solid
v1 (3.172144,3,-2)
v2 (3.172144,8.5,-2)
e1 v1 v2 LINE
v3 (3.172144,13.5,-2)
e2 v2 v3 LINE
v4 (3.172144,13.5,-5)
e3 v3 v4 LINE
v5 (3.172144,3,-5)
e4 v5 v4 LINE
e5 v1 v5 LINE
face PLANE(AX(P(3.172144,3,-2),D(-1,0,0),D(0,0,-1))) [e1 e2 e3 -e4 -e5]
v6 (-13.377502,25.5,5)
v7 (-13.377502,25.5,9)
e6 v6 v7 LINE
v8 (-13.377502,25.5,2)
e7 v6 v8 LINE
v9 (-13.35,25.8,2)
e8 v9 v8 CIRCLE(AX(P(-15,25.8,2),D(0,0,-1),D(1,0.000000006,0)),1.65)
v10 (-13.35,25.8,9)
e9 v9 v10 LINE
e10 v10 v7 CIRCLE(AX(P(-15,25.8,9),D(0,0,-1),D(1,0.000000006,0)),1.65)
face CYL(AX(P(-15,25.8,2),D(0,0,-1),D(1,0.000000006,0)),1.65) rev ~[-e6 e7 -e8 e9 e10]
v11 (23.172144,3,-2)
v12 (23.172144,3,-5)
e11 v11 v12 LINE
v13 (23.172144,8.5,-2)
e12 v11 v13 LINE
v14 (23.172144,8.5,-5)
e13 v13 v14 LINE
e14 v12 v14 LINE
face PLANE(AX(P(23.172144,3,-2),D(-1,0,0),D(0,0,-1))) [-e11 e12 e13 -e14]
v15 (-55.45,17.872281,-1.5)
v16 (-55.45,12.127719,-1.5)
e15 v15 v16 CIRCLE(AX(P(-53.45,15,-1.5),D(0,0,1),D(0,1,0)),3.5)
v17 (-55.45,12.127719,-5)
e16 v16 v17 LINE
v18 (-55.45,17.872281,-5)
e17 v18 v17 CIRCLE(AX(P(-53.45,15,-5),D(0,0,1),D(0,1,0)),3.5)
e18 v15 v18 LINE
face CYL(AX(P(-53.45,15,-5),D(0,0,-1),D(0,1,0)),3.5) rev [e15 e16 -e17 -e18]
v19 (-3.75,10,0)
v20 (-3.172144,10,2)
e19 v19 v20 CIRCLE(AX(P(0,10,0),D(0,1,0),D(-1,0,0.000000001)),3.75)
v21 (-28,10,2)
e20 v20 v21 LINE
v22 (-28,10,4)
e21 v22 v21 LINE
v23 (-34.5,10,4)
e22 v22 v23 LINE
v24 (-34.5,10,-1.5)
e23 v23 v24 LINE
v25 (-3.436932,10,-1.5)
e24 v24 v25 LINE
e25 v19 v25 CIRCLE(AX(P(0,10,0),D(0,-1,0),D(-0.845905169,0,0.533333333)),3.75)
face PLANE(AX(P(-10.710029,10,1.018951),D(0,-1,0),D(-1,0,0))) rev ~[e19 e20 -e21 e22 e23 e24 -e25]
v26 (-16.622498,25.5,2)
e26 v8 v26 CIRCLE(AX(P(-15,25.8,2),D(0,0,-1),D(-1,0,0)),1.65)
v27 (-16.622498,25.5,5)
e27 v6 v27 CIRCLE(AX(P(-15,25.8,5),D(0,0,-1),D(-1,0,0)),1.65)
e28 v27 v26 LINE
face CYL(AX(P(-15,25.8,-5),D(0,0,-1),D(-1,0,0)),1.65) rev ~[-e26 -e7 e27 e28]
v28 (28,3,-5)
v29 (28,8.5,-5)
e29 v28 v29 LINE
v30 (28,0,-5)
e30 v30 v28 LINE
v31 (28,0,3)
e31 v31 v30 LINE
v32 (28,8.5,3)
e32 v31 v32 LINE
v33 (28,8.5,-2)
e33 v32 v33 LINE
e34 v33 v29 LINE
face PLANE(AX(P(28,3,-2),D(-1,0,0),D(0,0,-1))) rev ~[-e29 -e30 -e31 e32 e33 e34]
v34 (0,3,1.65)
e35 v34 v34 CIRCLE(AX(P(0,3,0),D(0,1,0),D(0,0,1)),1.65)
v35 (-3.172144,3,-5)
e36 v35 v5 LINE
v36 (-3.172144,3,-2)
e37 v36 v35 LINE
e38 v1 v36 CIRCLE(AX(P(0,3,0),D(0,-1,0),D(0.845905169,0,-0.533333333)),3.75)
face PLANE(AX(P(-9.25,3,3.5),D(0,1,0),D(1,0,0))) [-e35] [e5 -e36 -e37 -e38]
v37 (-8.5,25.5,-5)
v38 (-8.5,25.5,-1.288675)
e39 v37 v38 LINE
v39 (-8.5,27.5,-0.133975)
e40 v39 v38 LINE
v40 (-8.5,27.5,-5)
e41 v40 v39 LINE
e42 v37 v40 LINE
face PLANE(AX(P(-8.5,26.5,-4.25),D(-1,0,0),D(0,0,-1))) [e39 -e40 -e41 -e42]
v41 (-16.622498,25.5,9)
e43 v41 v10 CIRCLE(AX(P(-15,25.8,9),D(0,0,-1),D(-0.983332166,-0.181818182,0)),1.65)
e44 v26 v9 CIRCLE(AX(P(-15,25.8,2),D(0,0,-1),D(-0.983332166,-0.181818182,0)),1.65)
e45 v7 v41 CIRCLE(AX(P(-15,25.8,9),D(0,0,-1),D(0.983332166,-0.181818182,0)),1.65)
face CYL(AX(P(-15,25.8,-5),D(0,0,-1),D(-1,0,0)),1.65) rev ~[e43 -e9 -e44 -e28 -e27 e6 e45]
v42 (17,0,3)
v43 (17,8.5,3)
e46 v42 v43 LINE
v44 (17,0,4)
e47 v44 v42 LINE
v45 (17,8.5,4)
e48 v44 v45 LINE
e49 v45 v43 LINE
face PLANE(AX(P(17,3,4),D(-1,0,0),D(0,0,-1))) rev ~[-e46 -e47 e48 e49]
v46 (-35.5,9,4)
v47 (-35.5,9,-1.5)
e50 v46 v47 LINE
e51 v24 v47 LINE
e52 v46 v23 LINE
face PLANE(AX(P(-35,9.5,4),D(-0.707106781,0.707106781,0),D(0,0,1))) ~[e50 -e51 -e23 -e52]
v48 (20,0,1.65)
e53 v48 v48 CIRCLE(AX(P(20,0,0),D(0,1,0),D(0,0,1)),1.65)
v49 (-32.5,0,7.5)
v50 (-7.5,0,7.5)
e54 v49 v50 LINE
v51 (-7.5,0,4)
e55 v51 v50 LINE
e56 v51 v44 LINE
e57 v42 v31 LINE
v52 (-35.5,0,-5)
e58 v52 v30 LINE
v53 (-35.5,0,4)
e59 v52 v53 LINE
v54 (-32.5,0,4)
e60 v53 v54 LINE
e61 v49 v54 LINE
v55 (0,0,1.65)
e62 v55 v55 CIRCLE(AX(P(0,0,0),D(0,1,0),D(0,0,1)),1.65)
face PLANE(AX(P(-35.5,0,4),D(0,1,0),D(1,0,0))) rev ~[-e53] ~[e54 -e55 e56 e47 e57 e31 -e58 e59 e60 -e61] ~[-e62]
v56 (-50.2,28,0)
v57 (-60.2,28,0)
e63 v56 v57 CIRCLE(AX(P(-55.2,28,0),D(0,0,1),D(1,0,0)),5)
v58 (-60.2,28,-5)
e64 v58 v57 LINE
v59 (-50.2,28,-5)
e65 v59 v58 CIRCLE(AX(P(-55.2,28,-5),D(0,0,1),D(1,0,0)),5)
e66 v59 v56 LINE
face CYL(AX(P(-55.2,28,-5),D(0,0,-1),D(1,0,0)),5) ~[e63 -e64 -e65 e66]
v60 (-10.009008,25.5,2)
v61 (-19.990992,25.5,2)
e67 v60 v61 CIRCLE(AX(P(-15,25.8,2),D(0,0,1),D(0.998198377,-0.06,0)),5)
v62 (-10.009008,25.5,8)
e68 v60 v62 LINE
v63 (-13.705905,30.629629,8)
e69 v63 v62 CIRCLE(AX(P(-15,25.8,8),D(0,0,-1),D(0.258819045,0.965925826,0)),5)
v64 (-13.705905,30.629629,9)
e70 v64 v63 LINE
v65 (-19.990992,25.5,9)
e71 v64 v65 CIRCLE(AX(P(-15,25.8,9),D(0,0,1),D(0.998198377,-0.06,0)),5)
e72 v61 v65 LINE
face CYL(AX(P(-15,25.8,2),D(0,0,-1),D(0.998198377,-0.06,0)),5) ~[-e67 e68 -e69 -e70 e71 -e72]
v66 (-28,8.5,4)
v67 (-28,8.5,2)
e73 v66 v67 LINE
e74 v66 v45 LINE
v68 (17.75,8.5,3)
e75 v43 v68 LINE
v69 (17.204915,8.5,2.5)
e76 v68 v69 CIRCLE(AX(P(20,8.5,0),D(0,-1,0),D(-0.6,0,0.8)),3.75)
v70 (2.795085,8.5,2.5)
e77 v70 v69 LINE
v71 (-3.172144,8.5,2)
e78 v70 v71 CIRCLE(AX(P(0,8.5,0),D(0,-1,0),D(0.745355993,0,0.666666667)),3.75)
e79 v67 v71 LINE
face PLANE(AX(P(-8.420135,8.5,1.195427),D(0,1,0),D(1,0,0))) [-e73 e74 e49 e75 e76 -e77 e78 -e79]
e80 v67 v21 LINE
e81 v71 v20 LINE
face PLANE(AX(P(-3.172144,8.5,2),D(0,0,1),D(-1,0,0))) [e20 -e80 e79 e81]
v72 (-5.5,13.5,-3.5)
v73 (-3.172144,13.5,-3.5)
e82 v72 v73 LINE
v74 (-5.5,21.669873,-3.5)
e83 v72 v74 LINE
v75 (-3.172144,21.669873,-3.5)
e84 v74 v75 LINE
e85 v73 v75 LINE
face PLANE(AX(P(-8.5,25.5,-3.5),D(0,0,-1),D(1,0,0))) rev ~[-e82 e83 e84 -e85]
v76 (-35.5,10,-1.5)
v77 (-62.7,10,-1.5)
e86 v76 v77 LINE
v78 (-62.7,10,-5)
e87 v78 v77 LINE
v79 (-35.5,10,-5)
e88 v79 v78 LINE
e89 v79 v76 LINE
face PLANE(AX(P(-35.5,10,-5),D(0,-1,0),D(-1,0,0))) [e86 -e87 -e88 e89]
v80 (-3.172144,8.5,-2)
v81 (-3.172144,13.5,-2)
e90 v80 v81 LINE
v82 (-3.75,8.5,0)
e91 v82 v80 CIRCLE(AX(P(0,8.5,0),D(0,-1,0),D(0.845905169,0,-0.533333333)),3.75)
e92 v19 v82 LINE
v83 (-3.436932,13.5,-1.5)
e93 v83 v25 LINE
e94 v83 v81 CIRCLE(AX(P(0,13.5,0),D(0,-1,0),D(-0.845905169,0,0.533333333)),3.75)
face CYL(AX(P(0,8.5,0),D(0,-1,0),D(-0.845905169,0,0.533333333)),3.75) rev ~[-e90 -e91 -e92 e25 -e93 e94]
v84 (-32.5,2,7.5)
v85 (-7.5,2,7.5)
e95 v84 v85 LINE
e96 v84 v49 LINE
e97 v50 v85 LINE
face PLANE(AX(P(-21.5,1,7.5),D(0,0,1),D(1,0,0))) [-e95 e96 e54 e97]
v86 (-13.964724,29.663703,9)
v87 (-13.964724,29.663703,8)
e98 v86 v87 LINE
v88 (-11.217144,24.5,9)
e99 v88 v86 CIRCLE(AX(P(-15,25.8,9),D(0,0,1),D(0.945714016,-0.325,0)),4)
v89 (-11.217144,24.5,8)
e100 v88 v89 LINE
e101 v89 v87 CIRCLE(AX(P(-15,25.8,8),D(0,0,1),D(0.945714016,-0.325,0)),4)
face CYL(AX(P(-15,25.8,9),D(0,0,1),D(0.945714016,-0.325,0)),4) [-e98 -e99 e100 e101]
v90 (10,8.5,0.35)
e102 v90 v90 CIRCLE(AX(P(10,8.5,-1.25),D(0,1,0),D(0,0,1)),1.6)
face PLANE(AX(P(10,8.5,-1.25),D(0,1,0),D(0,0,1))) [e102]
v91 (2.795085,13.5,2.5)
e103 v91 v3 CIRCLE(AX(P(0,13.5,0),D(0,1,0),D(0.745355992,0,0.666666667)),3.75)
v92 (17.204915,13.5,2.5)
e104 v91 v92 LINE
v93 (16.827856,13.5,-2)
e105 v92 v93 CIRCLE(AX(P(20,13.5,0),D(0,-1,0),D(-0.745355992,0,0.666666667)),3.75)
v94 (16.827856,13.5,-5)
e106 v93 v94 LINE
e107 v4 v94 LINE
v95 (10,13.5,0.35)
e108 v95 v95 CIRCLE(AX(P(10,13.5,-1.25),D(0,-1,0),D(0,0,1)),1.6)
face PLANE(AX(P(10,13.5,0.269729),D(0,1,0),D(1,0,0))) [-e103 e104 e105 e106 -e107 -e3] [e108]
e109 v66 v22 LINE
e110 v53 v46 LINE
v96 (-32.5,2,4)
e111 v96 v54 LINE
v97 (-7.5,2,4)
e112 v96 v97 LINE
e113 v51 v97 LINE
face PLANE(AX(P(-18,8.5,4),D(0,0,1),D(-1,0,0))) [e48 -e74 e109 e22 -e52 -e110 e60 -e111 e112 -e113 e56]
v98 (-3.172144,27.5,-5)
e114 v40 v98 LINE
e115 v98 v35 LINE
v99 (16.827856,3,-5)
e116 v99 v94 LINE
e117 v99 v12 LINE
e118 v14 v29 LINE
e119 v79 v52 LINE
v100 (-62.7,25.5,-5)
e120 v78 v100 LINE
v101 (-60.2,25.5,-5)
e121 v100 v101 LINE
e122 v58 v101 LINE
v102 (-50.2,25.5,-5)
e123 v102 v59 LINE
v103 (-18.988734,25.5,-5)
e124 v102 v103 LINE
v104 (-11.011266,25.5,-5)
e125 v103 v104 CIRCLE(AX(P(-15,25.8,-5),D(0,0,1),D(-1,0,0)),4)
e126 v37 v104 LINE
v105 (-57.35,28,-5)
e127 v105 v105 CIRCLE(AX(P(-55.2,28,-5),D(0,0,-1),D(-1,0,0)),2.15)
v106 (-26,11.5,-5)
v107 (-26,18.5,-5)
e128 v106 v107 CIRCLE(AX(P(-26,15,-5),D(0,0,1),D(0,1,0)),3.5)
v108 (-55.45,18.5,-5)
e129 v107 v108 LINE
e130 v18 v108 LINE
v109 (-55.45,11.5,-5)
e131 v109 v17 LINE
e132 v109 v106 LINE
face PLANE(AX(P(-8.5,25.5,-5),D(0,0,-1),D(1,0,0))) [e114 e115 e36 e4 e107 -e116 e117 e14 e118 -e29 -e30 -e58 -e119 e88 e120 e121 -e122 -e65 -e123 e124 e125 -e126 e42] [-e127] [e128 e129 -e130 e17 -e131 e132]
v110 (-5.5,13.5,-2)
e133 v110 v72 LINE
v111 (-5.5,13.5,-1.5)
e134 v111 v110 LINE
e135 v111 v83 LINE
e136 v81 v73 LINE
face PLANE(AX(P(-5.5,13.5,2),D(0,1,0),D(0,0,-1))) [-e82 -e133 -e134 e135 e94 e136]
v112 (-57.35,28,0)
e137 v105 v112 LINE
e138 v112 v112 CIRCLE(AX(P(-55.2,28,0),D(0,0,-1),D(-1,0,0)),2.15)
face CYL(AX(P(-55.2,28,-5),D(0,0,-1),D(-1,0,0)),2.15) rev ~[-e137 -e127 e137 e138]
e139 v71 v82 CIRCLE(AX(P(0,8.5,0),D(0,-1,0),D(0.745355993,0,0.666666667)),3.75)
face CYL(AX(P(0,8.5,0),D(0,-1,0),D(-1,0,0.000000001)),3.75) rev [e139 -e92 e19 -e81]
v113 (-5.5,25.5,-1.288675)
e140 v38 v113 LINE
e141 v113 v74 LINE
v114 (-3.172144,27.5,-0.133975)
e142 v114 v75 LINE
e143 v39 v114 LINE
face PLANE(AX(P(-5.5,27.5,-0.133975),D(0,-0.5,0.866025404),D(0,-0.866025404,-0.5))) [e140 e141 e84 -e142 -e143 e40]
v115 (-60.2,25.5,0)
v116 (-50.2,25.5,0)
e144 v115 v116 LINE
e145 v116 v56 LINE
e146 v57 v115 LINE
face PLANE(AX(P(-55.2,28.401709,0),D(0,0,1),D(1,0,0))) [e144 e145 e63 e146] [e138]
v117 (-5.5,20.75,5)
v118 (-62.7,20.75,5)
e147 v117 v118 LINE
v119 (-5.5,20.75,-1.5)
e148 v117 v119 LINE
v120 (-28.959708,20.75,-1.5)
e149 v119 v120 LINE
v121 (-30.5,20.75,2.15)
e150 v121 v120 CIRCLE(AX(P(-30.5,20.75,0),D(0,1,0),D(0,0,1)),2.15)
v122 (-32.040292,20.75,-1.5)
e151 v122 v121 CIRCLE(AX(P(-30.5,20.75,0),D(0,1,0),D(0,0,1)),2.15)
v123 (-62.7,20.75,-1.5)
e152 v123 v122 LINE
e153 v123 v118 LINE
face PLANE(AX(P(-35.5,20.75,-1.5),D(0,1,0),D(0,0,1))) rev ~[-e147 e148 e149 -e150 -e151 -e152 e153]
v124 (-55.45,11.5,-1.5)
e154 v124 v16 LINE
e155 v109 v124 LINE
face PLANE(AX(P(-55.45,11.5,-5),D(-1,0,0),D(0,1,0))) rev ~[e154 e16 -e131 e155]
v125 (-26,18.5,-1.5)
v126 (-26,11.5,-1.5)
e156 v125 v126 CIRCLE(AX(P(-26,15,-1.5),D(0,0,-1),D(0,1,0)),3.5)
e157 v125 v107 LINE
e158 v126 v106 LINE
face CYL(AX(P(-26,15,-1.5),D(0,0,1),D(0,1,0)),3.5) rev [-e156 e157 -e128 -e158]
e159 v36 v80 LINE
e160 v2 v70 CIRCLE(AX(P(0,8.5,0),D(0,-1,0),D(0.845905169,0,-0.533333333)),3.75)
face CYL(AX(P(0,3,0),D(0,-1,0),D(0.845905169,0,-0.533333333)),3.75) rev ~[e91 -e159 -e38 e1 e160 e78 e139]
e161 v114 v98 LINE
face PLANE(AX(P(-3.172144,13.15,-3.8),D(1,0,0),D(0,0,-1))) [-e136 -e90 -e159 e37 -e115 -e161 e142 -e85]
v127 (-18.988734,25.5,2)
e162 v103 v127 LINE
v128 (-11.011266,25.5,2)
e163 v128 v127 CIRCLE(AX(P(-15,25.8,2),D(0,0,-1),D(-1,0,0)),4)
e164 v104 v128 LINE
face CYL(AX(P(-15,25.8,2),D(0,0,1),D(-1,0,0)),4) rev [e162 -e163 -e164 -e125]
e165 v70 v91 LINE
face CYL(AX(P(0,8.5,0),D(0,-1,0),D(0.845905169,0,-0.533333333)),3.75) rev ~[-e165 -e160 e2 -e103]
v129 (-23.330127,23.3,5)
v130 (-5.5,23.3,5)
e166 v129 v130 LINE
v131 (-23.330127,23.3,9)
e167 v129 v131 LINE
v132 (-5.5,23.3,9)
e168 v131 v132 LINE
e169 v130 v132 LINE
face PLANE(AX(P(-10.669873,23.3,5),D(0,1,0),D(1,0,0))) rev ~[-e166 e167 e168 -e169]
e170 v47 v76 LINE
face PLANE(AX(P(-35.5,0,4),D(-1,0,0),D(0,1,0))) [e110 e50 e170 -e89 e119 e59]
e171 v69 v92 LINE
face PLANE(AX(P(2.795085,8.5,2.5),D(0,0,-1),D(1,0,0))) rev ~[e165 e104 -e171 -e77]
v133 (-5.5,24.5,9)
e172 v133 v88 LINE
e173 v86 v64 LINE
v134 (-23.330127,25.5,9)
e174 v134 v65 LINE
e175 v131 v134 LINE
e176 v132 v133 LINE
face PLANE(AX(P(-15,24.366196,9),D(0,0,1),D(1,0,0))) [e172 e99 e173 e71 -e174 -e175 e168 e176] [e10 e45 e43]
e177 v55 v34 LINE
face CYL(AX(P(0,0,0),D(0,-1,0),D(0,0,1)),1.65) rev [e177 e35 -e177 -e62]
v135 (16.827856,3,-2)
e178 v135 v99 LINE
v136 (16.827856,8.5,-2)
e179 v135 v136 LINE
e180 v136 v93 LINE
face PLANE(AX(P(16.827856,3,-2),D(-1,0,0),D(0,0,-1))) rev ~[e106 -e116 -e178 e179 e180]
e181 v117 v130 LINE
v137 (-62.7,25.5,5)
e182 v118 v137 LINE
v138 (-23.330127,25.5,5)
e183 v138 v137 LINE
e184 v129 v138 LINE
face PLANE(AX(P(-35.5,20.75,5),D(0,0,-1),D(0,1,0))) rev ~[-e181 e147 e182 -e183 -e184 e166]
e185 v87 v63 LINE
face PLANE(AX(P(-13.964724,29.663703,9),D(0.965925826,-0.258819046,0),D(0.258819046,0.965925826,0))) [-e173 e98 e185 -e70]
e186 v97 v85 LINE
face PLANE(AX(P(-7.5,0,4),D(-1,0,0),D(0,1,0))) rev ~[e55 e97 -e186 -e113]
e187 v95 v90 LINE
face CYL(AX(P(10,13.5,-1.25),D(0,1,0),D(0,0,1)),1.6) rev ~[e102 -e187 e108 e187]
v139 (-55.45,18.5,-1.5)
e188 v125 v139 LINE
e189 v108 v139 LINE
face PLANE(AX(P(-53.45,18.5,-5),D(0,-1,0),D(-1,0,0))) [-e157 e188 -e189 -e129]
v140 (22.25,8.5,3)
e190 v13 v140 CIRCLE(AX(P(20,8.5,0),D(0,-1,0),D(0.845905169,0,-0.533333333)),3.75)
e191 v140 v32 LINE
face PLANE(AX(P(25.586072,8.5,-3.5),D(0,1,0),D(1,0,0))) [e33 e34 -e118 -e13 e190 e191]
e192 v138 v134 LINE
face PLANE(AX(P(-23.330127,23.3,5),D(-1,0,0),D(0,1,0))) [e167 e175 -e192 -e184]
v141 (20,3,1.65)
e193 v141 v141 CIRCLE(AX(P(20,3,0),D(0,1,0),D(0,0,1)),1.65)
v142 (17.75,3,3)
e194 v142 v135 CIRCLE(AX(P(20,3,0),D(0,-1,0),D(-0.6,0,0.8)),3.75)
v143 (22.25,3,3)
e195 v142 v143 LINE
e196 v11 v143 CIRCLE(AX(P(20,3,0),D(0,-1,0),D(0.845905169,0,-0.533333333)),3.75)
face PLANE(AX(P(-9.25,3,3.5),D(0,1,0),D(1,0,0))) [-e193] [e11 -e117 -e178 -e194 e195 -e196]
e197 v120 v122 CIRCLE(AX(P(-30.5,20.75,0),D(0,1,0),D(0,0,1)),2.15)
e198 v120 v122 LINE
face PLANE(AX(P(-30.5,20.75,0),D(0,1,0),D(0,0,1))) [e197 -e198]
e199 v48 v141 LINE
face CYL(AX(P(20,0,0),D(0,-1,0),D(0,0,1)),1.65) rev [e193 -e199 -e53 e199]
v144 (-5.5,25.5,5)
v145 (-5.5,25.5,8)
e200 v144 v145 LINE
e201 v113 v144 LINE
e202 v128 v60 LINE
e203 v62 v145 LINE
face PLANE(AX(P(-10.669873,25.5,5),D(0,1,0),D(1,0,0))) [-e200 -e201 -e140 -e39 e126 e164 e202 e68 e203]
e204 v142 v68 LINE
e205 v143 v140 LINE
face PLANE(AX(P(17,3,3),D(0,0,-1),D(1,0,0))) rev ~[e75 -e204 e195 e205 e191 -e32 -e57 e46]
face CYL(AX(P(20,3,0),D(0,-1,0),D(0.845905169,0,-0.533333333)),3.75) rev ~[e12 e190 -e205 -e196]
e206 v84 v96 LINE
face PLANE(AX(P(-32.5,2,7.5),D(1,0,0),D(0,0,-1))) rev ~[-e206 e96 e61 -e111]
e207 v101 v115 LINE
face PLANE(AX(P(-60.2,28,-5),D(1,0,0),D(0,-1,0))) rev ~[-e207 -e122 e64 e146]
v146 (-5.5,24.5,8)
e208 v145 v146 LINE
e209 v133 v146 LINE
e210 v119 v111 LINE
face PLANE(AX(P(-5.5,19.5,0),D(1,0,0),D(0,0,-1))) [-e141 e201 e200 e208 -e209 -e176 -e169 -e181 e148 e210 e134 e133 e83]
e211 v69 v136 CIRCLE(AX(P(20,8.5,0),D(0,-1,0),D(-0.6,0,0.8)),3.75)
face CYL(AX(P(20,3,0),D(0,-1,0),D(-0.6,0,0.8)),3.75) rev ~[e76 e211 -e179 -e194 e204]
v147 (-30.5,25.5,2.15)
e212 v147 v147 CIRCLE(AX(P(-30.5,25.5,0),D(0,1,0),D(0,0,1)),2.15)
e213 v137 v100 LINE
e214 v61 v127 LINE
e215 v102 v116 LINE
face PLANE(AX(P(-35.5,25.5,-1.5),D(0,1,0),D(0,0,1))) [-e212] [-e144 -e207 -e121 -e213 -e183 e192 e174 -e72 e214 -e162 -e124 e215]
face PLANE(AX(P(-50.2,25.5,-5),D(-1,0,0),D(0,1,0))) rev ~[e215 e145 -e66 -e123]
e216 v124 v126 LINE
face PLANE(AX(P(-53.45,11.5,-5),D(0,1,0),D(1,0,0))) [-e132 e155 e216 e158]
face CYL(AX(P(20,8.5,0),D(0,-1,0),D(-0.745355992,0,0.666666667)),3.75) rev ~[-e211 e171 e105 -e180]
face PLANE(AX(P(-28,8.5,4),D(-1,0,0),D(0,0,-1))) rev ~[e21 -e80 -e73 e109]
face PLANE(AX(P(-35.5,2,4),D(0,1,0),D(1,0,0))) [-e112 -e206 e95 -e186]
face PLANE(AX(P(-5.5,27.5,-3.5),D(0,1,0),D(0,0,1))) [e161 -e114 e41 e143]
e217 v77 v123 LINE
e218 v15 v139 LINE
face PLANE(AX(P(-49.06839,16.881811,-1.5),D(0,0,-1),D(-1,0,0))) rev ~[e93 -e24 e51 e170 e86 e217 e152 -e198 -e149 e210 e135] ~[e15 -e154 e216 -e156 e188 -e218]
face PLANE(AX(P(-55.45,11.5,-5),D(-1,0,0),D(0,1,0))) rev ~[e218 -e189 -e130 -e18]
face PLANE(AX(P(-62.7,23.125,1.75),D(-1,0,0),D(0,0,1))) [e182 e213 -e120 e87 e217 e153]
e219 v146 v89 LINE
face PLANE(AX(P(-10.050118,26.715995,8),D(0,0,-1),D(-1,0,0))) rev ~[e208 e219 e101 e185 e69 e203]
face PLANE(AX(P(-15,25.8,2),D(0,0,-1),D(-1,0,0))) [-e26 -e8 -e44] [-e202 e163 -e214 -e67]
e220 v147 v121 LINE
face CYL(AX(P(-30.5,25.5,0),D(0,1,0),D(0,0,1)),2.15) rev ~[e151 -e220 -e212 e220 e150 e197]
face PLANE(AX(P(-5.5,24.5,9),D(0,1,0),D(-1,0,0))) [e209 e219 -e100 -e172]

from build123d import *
from build123d.topology import SkipClean

# Parameters (mm, degrees)
SKETCH_1_W                   = 63.5
SKETCH_1_H                   = 8
SKETCH_1_R                   = 1.65
EXTRUDE_1_DEPTH              = 3
SKETCH_4_W                   = 52.5
SKETCH_4_H                   = 1
EXTRUDE_3_DEPTH              = 3
EXTRUDE_4_DEPTH              = 5.5
EXTRUDE_5_DEPTH              = 1.5
EXTRUDE_5_DIRECTION_2_REACH  = 38.844
CHAMFER_1_SIZE               = 1
SKETCH_8_W                   = 22
SKETCH_8_H                   = 3.5
EXTRUDE_6_DEPTH              = 12.5
EXTRUDE_7_DEPTH              = 5
SKETCH_11_W                  = 10
SKETCH_11_H                  = 2
CUT_EXTRUDE_1_DEPTH          = 5
CUT_EXTRUDE_3_DEPTH          = 43.388087949
EXTRUDE_8_DEPTH              = 3.5
SKETCH_16_W                  = 3.5
SKETCH_16_H                  = 4
EXTRUDE_9_DEPTH              = 8
SKETCH_2_W                   = 10
SKETCH_2_H                   = 2
EXTRUDE_2_DEPTH              = 3
SKETCH_17_W                  = 30
SKETCH_17_H                  = 4.75
EXTRUDE_10_DEPTH             = 10
EXTRUDE_11_DEPTH             = 17
EXTRUDE_12_REACH             = 44.326
SKETCH_19_W                  = 2.327855615
SKETCH_19_H                  = 3
SKETCH_19_W_2                = 13.65571123
SKETCH_19_W_3                = 4.827855615
SKETCH_21_R                  = 1.65
CUT_EXTRUDE_4_DEPTH          = 45.838599443
EXTRUDE_13_DEPTH             = 4
EXTRUDE_13_DEPTH_BACK        = 3
SKETCH_23_R                  = 4
CUT_EXTRUDE_5_DEPTH          = 48.517260022
SKETCH_24_W                  = 5.169872981
SKETCH_24_H                  = 2.2
SKETCH_24_W_2                = 4
EXTRUDE_14_DEPTH             = 4
CUT_EXTRUDE_6_DEPTH          = 1
SKETCH_26_R                  = 2.15
CUT_EXTRUDE_7_DEPTH          = 4.75
EXTRUDE_15_DEPTH             = 3.5
SKETCH_28_W                  = 6.5
SKETCH_28_H                  = 4.75
EXTRUDE_16_DEPTH             = 27.2
SKETCH_29_R                  = 2.15
EXTRUDE_17_DEPTH             = 5
SKETCH_30_R                  = 1.6
CUT_EXTRUDE_8_DEPTH          = 5
SKETCH_31_W                  = 28
SKETCH_31_H                  = 2
EXTRUDE_18_DEPTH             = 3.5
CUT_EXTRUDE_9_DEPTH          = 2.5
EXTRUDE_19_DEPTH             = 1.5
SKETCH_34_W                  = 4
SKETCH_34_H                  = 12
CUT_EXTRUDE_10_DEPTH         = 67.647130471
SKETCH_35_W                  = 4.827855615
SKETCH_35_H                  = 3
CUT_EXTRUDE_11_DEPTH         = 5
SKETCH_36_W                  = 2.327855615
SKETCH_36_H                  = 1.5
EXTRUDE_20_DEPTH             = 14
SKETCH_37_W                  = 3
SKETCH_37_H                  = 1.5
EXTRUDE_21_DEPTH             = 2
SKETCH_38_W                  = 3
SKETCH_38_H                  = 3.5
CUT_EXTRUDE_12_DEPTH         = 10
SKETCH_39_W                  = 2
SKETCH_39_H                  = 7
CUT_EXTRUDE_13_DEPTH         = 3.5
EXTRUDE_22_REACH             = 68.647
EXTRUDE_22_DIRECTION_2_REACH = 68.647


with BuildPart() as part:
    # 草图1 → 凸台-拉伸1 (new body)
    with BuildSketch(Plane(origin=(0, 0, 0), x_dir=(1, 0, 0), z_dir=(0, 1, 0))):
        with Locations((-3.75, 1)):
            Rectangle(SKETCH_1_W, SKETCH_1_H)
        with Locations(Location((0, 0, 0), (0, 0, 270))):
            Circle(SKETCH_1_R, mode=Mode.SUBTRACT)
        with Locations(Location((20, 0, 0), (0, 0, 270))):
            Circle(SKETCH_1_R, mode=Mode.SUBTRACT)
    extrude(amount=EXTRUDE_1_DEPTH)

    # 草图4 → 凸台-拉伸3 (add)
    with BuildSketch(Plane(origin=(0, 3, 0), x_dir=(1, 0, 0), z_dir=(0, 1, 0))):
        with Locations((-9.25, -3.5)):
            Rectangle(SKETCH_4_W, SKETCH_4_H)
    extrude(amount=-EXTRUDE_3_DEPTH)

    # 草图6 → 凸台-拉伸4 (add)
    with BuildSketch(Plane(origin=(0, 3, 0), x_dir=(1, 0, 0), z_dir=(0, 1, 0))):
        with BuildLine():
            Line((-35.5, -4), (17, -4))
            Line((17, -4), (17, -3))
            Line((17, -3), (17.75, -3))
            ThreePointArc((17.75, -3), (16.31219409, -0.680137903), (16.827855615, 2))
            Line((16.827855615, 2), (3.172144385, 2))
            ThreePointArc((3.172144385, 2), (0, -3.75), (-3.172144385, 2))
            Line((-3.172144385, 2), (-35.5, 2))
            Line((-35.5, 2), (-35.5, -4))
        make_face()
        with BuildLine():
            Line((28, -3), (28, 2))
            Line((28, 2), (23.172144385, 2))
            ThreePointArc((23.172144385, 2), (23.68780591, -0.680137903), (22.25, -3))
            Line((22.25, -3), (28, -3))
        make_face()
    extrude(amount=EXTRUDE_4_DEPTH)

    # 草图7 → 凸台-拉伸5 (add)
    with BuildSketch(Plane(origin=(0, 8.5, 0), x_dir=(1, 0, 0), z_dir=(0, 1, 0))):
        Polygon((-18, -4), (-35.5, -4), (-35.5, 5), (-5.5, 5), (-5.5, 0), (-18, 0), align=None)
    extrude(amount=EXTRUDE_5_DEPTH)

    # 草图7 → 凸台-拉伸5 direction 2 (add, up to next)
    with BuildSketch(Plane(origin=(0, 8.5, 0), x_dir=(1, 0, 0), z_dir=(0, 1, 0)), mode=Mode.PRIVATE) as extrude_5_direction_2_sk1:
        Polygon((-18, -4), (-35.5, -4), (-35.5, 5), (-5.5, 5), (-5.5, 0), (-18, 0), align=None)
    extrude_5_direction_2_tool1 = extrude(extrude_5_direction_2_sk1.sketch, amount=-EXTRUDE_5_DIRECTION_2_REACH, mode=Mode.PRIVATE) - part.part
    add(extrude_5_direction_2_tool1.solids().sort_by_distance((-22.488636, 8.5, -1.068182))[0])

    # 倒角1
    chamfer_1_edges = [part.edges().sort_by_distance(p)[0] for p in [
        (-35.5, 10, -0.5),
    ]]
    chamfer(chamfer_1_edges, length=CHAMFER_1_SIZE)

    # 草图8 → 凸台-拉伸6 (add)
    with BuildSketch(Plane(origin=(0, 10, 0), x_dir=(1, 0, 0), z_dir=(0, 1, 0))):
        with Locations((-16.5, 3.25)):
            Rectangle(SKETCH_8_W, SKETCH_8_H)
    extrude(amount=EXTRUDE_6_DEPTH)

    # 草图10 → 凸台-拉伸7 (add)
    with BuildSketch(Plane(origin=(0, 8.5, 0), x_dir=(1, 0, 0), z_dir=(0, 1, 0))):
        with BuildLine():
            Line((2.795084972, -2.5), (17.204915028, -2.5))
            ThreePointArc((17.204915028, -2.5), (16.263095325, -0.313118908), (16.827855615, 2))
            Line((16.827855615, 2), (3.172144385, 2))
            ThreePointArc((3.172144385, 2), (3.736904675, -0.313118908), (2.795084972, -2.5))
        make_face()
    extrude(amount=EXTRUDE_7_DEPTH)

    # 草图11 → 切除-拉伸1 (cut)
    with BuildSketch(Plane(origin=(0, 8.5, 0), x_dir=(1, 0, 0), z_dir=(0, 1, 0))):
        with Locations((-23, -3)):
            Rectangle(SKETCH_11_W, SKETCH_11_H)
    extrude(amount=CUT_EXTRUDE_1_DEPTH, mode=Mode.SUBTRACT)

    # 草图14 → 切除-拉伸3 (cut, through all)
    with BuildSketch(Plane.XY.offset(-1.5)):
        with BuildLine():
            Line((-27.5, 18.5), (-26, 18.5))
            ThreePointArc((-26, 18.5), (-22.5, 15), (-26, 11.5))
            Line((-26, 11.5), (-27.5, 11.5))
            ThreePointArc((-27.5, 11.5), (-31, 15), (-27.5, 18.5))
        make_face()
    extrude(amount=-CUT_EXTRUDE_3_DEPTH, mode=Mode.SUBTRACT)

    # 草图15 → 凸台-拉伸8 (add)
    with BuildSketch(Plane.XY.offset(-1.5)):
        Polygon((-27.5, 10), (-34.5, 10), (-35.5, 9), (-35.5, 11.5), (-27.5, 11.5), align=None)
    extrude(amount=-EXTRUDE_8_DEPTH)

    # 草图16 → 凸台-拉伸9 (add)
    with BuildSketch(Plane.ZY.offset(27.5)):
        with Locations((-3.25, 20.5)):
            Rectangle(SKETCH_16_W, SKETCH_16_H)
    extrude(amount=EXTRUDE_9_DEPTH)

    # 草图2 → 凸台-拉伸2 (add)
    with BuildSketch(Plane(origin=(0, 3, 0), x_dir=(1, 0, 0), z_dir=(0, 1, 0))):
        with Locations((10, -2)):
            Rectangle(SKETCH_2_W, SKETCH_2_H)
    extrude(amount=EXTRUDE_2_DEPTH)

    # 草图17 → 凸台-拉伸10 (add)
    with BuildSketch(Plane(origin=(0, 0, -5), x_dir=(-1, 0, 0), z_dir=(0, 0, -1))):
        with Locations((20.5, 23.125)):
            Rectangle(SKETCH_17_W, SKETCH_17_H)
    extrude(amount=-EXTRUDE_10_DEPTH)

    # 草图18 → 凸台-拉伸11 (add)
    with BuildSketch(Plane(origin=(0, 8.5, 0), x_dir=(1, 0, 0), z_dir=(0, 1, 0))):
        with BuildLine():
            Line((-5.5, 2), (-5.5, -2))
            Line((-5.5, -2), (-3.172144385, -2))
            ThreePointArc((-3.172144385, -2), (-3.75, 0), (-3.172144385, 2))
            Line((-3.172144385, 2), (-5.5, 2))
        make_face()
    extrude(amount=EXTRUDE_11_DEPTH)

    # 凸台-拉伸12: up to this face of the body (flat: up to its plane)
    extrude_12_end = Plane(part.part.faces().sort_by_distance((10, 13.5, 0.269728819))[0])
    # 草图19 → 凸台-拉伸12 (add, up to the picked face)
    with BuildSketch(Plane(origin=(0, 3, 0), x_dir=(1, 0, 0), z_dir=(0, 1, 0)), mode=Mode.PRIVATE) as extrude_12_sk1:
        with Locations((-4.336072192, 3.5)):
            Rectangle(SKETCH_19_W, SKETCH_19_H)
    extrude_12_tool1 = split(extrude(extrude_12_sk1.sketch, amount=EXTRUDE_12_REACH, mode=Mode.PRIVATE), bisect_by=extrude_12_end, keep=Keep.BOTH, mode=Mode.PRIVATE)
    # 草图19 → 凸台-拉伸12 (add, up to the picked face)
    with BuildSketch(Plane(origin=(0, 3, 0), x_dir=(1, 0, 0), z_dir=(0, 1, 0)), mode=Mode.PRIVATE) as extrude_12_sk2:
        with Locations((10, 3.5)):
            Rectangle(SKETCH_19_W_2, SKETCH_19_H)
    extrude_12_tool2 = split(extrude(extrude_12_sk2.sketch, amount=EXTRUDE_12_REACH, mode=Mode.PRIVATE), bisect_by=extrude_12_end, keep=Keep.BOTH, mode=Mode.PRIVATE)
    # 草图19 → 凸台-拉伸12 (add, up to the picked face)
    with BuildSketch(Plane(origin=(0, 3, 0), x_dir=(1, 0, 0), z_dir=(0, 1, 0)), mode=Mode.PRIVATE) as extrude_12_sk3:
        with Locations((25.586072193, 3.5)):
            Rectangle(SKETCH_19_W_3, SKETCH_19_H)
    extrude_12_tool3 = split(extrude(extrude_12_sk3.sketch, amount=EXTRUDE_12_REACH, mode=Mode.PRIVATE), bisect_by=extrude_12_end, keep=Keep.BOTH, mode=Mode.PRIVATE)
    add(extrude_12_tool1.solids().sort_by(Axis((-4.336072, 3, -3.5), (0, 1, 0)))[0])
    add(extrude_12_tool2.solids().sort_by(Axis((10, 3, -3.5), (0, 1, 0)))[0])
    add(extrude_12_tool3.solids().sort_by(Axis((25.586072, 3, -3.5), (0, 1, 0)))[0])

    # 草图21 → 切除-拉伸4 (cut, through all)
    with BuildSketch(Plane(origin=(0, 0, -5), x_dir=(-1, 0, 0), z_dir=(0, 0, -1))):
        with Locations((15, 25.8)):
            Circle(SKETCH_21_R)
    extrude(amount=-CUT_EXTRUDE_4_DEPTH, mode=Mode.SUBTRACT)

    # 草图22 → 凸台-拉伸13 (add, two sides: drawn at the far end of the back side and taken through both)
    with BuildSketch(Plane.XY.offset(5).offset(-EXTRUDE_13_DEPTH_BACK)):
        with BuildLine():
            ThreePointArc((-19.990991885, 25.5), (-19.788612994, 24.361533597), (-19.330127019, 23.3))
            Line((-19.330127019, 23.3), (-10.669872981, 23.3))
            ThreePointArc((-10.669872981, 23.3), (-10.211387006, 24.361533597), (-10.009008115, 25.5))
            Line((-10.009008115, 25.5), (-13.377501926, 25.5))
            ThreePointArc((-13.377501926, 25.5), (-15, 24.15), (-16.622498074, 25.5))
            Line((-16.622498074, 25.5), (-19.990991885, 25.5))
        make_face()
        with BuildLine():
            ThreePointArc((-10.009008115, 25.5), (-15, 30.8), (-19.990991885, 25.5))
            Line((-19.990991885, 25.5), (-16.622498074, 25.5))
            ThreePointArc((-16.622498074, 25.5), (-15.150628978, 27.443110134), (-13.35, 25.8))
            ThreePointArc((-13.35, 25.8), (-13.356889866, 25.649371022), (-13.377501926, 25.5))
            Line((-13.377501926, 25.5), (-10.009008115, 25.5))
        make_face()
    extrude(amount=EXTRUDE_13_DEPTH + EXTRUDE_13_DEPTH_BACK)

    # 草图23 → 切除-拉伸5 (cut, through all)
    with BuildSketch(Plane(origin=(0, 0, 2), x_dir=(-1, 0, 0), z_dir=(0, 0, -1))):
        with Locations((15, 25.8)):
            Circle(SKETCH_23_R)
    extrude(amount=CUT_EXTRUDE_5_DEPTH, mode=Mode.SUBTRACT)

    # 草图24 → 凸台-拉伸14 (add)
    with BuildSketch(Plane.XY.offset(5)):
        with Locations((-8.084936491, 24.4)):
            Rectangle(SKETCH_24_W, SKETCH_24_H)
        with Locations((-21.330127019, 24.4)):
            Rectangle(SKETCH_24_W_2, SKETCH_24_H)
    extrude(amount=EXTRUDE_14_DEPTH)

    # 草图25 → 切除-拉伸6 (cut)
    with BuildSketch(Plane.XY.offset(9)):
        with BuildLine():
            Line((-13.96472382, 29.663703305), (-13.705904774, 30.629629131))
            ThreePointArc((-13.705904774, 30.629629131), (-10.943664985, 28.723379251), (-10.009008115, 25.5))
            Line((-10.009008115, 25.5), (-5.5, 25.5))
            Line((-5.5, 25.5), (-5.5, 24.5))
            Line((-5.5, 24.5), (-11.217143936, 24.5))
            ThreePointArc((-11.217143936, 24.5), (-11.468773933, 27.678947169), (-13.96472382, 29.663703305))
        make_face()
    extrude(amount=-CUT_EXTRUDE_6_DEPTH, mode=Mode.SUBTRACT)

    # 草图26 → 切除-拉伸7 (cut)
    with BuildSketch(Plane(origin=(0, 25.5, 0), x_dir=(1, 0, 0), z_dir=(0, 1, 0))):
        with Locations(Location((-30.5, 0, 0), (0, 0, 270))):
            Circle(SKETCH_26_R)
    extrude(amount=-CUT_EXTRUDE_7_DEPTH, mode=Mode.SUBTRACT)

    # 草图27 → 凸台-拉伸15 (add)
    with BuildSketch(Plane(origin=(0, 0, -5), x_dir=(-1, 0, 0), z_dir=(0, 0, -1))):
        with BuildLine():
            Line((35.5, 10), (62.7, 10))
            Line((62.7, 10), (62.7, 25.5))
            Line((62.7, 25.5), (35.5, 25.5))
            Line((35.5, 25.5), (35.5, 18.5))
            Line((35.5, 18.5), (53.45, 18.5))
            ThreePointArc((53.45, 18.5), (56.95, 15), (53.45, 11.5))
            Line((53.45, 11.5), (35.5, 11.5))
            Line((35.5, 11.5), (35.5, 10))
        make_face()
    extrude(amount=-EXTRUDE_15_DEPTH)

    # 草图28 → 凸台-拉伸16 (add)
    with BuildSketch(Plane.ZY.offset(35.5)):
        with Locations((1.75, 23.125)):
            Rectangle(SKETCH_28_W, SKETCH_28_H)
    extrude(amount=EXTRUDE_16_DEPTH)

    # 草图29 → 凸台-拉伸17 (add)
    with BuildSketch(Plane(origin=(0, 0, -5), x_dir=(-1, 0, 0), z_dir=(0, 0, -1))):
        with BuildLine():
            Line((60.2, 28), (60.2, 25.5))
            Line((60.2, 25.5), (50.2, 25.5))
            Line((50.2, 25.5), (50.2, 28))
            ThreePointArc((50.2, 28), (55.2, 33), (60.2, 28))
        make_face()
        with Locations((55.2, 28)):
            Circle(SKETCH_29_R, mode=Mode.SUBTRACT)
    extrude(amount=-EXTRUDE_17_DEPTH)

    # 草图30 → 切除-拉伸8 (cut)
    with BuildSketch(Plane(origin=(0, 13.5, 0), x_dir=(1, 0, 0), z_dir=(0, 1, 0))):
        with Locations(Location((10, 1.25, 0), (0, 0, 270))):
            Circle(SKETCH_30_R)
    extrude(amount=-CUT_EXTRUDE_8_DEPTH, mode=Mode.SUBTRACT)

    # 草图31 → 凸台-拉伸18 (add)
    with BuildSketch(Plane.XY.offset(4)):
        with Locations((-21.5, 1)):
            Rectangle(SKETCH_31_W, SKETCH_31_H)
    extrude(amount=EXTRUDE_18_DEPTH)

    # 草图32 → 切除-拉伸9 (cut)
    with BuildSketch(Plane.ZY.offset(5.5)):
        Polygon((-1.5, 10), (0, 10), (0, 8.5), (2, 8.5), (2, 20.75), (-1.5, 20.75), align=None)
    extrude(amount=-CUT_EXTRUDE_9_DEPTH, mode=Mode.SUBTRACT)

    # 草图33 → 凸台-拉伸19 (add)
    with SkipClean():  # the faces are left unmerged after this step: merging them gives an invalid solid
        with BuildSketch(Plane(origin=(0, 8.5, 0), x_dir=(1, 0, 0), z_dir=(0, 1, 0))):
            with BuildLine():
                Line((-18, 0), (-3.75, 0))
                ThreePointArc((-3.75, 0), (-3.602640798, -1.040903107), (-3.172144385, -2))
                Line((-3.172144385, -2), (-18, -2))
                Line((-18, -2), (-18, 0))
            make_face()
        extrude(amount=EXTRUDE_19_DEPTH)

    # 草图34 → 切除-拉伸10 (cut, through all)
    with BuildSketch(Plane(origin=(-5.5, 0, 0), x_dir=(0, 0, -1), z_dir=(1, 0, 0))):
        with Locations((0, 19.5)):
            Rectangle(SKETCH_34_W, SKETCH_34_H)
    extrude(amount=CUT_EXTRUDE_10_DEPTH, mode=Mode.SUBTRACT)

    # 草图35 → 切除-拉伸11 (cut)
    with BuildSketch(Plane(origin=(0, 13.5, 0), x_dir=(1, 0, 0), z_dir=(0, 1, 0))):
        with Locations((25.586072193, 3.5)):
            Rectangle(SKETCH_35_W, SKETCH_35_H)
    extrude(amount=-CUT_EXTRUDE_11_DEPTH, mode=Mode.SUBTRACT)

    # 草图36 → 凸台-拉伸20 (add)
    with BuildSketch(Plane(origin=(0, 13.5, 0), x_dir=(1, 0, 0), z_dir=(0, 1, 0))):
        with Locations((-4.336072192, 4.25)):
            Rectangle(SKETCH_36_W, SKETCH_36_H)
    extrude(amount=EXTRUDE_20_DEPTH)

    # 草图37 → 凸台-拉伸21 (add)
    with SkipClean():  # the faces are left unmerged after this step: merging them gives an invalid solid
        with BuildSketch(Plane(origin=(0, 25.5, 0), x_dir=(1, 0, 0), z_dir=(0, 1, 0))):
            with Locations((-7, 4.25)):
                Rectangle(SKETCH_37_W, SKETCH_37_H)
        extrude(amount=EXTRUDE_21_DEPTH)

    # 草图38 → 切除-拉伸12 (cut)
    with SkipClean():  # the faces are left unmerged after this step: merging them gives an invalid solid
        with BuildSketch(Plane(origin=(0, 2, 0), x_dir=(1, 0, 0), z_dir=(0, 1, 0))):
            with Locations((-34, -5.75)):
                Rectangle(SKETCH_38_W, SKETCH_38_H)
        extrude(amount=-CUT_EXTRUDE_12_DEPTH, mode=Mode.SUBTRACT)

    # 草图39 → 切除-拉伸13 (cut)
    with BuildSketch(Plane(origin=(0, 0, -5), x_dir=(-1, 0, 0), z_dir=(0, 0, -1))):
        with Locations((54.45, 15)):
            Rectangle(SKETCH_39_W, SKETCH_39_H)
    extrude(amount=-CUT_EXTRUDE_13_DEPTH, mode=Mode.SUBTRACT)

    # 凸台-拉伸22: up to this face of the body (flat: up to its plane)
    extrude_22_end = Plane(part.part.faces().sort_by_distance((-3.172144385, 13.15, -3.8))[0])
    # 草图40 → 凸台-拉伸22 (add, up to the picked face)
    with BuildSketch(Plane(origin=(-5.5, 0, 0), x_dir=(0, 0, -1), z_dir=(1, 0, 0)), mode=Mode.PRIVATE) as extrude_22_sk1:
        Polygon((3.5, 27.5), (0.133974596, 27.5), (3.5, 21.669872981), align=None)
    extrude_22_tool1 = split(extrude(extrude_22_sk1.sketch, amount=EXTRUDE_22_REACH, mode=Mode.PRIVATE), bisect_by=extrude_22_end, keep=Keep.BOTH, mode=Mode.PRIVATE)
    add(extrude_22_tool1.solids().sort_by(Axis((-5.5, 25.556624, -2.377992), (1, 0, 0)))[0])

    # 凸台-拉伸22 direction 2: up to this face of the body (flat: up to its plane)
    extrude_22_direction_2_end = Plane(part.part.faces().sort_by_distance((-8.5, 26.5, -4.25))[0])
    # 草图40 → 凸台-拉伸22 direction 2 (add, up to the picked face)
    with BuildSketch(Plane(origin=(-5.5, 0, 0), x_dir=(0, 0, -1), z_dir=(1, 0, 0)), mode=Mode.PRIVATE) as extrude_22_direction_2_sk1:
        Polygon((3.5, 27.5), (0.133974596, 27.5), (3.5, 21.669872981), align=None)
    extrude_22_direction_2_tool1 = split(extrude(extrude_22_direction_2_sk1.sketch, amount=-EXTRUDE_22_DIRECTION_2_REACH, mode=Mode.PRIVATE), bisect_by=extrude_22_direction_2_end, keep=Keep.BOTH, mode=Mode.PRIVATE)
    add(extrude_22_direction_2_tool1.solids().sort_by(Axis((-5.5, 25.556624, -2.377992), (-1, 0, 0)))[0])


solid = part.part
